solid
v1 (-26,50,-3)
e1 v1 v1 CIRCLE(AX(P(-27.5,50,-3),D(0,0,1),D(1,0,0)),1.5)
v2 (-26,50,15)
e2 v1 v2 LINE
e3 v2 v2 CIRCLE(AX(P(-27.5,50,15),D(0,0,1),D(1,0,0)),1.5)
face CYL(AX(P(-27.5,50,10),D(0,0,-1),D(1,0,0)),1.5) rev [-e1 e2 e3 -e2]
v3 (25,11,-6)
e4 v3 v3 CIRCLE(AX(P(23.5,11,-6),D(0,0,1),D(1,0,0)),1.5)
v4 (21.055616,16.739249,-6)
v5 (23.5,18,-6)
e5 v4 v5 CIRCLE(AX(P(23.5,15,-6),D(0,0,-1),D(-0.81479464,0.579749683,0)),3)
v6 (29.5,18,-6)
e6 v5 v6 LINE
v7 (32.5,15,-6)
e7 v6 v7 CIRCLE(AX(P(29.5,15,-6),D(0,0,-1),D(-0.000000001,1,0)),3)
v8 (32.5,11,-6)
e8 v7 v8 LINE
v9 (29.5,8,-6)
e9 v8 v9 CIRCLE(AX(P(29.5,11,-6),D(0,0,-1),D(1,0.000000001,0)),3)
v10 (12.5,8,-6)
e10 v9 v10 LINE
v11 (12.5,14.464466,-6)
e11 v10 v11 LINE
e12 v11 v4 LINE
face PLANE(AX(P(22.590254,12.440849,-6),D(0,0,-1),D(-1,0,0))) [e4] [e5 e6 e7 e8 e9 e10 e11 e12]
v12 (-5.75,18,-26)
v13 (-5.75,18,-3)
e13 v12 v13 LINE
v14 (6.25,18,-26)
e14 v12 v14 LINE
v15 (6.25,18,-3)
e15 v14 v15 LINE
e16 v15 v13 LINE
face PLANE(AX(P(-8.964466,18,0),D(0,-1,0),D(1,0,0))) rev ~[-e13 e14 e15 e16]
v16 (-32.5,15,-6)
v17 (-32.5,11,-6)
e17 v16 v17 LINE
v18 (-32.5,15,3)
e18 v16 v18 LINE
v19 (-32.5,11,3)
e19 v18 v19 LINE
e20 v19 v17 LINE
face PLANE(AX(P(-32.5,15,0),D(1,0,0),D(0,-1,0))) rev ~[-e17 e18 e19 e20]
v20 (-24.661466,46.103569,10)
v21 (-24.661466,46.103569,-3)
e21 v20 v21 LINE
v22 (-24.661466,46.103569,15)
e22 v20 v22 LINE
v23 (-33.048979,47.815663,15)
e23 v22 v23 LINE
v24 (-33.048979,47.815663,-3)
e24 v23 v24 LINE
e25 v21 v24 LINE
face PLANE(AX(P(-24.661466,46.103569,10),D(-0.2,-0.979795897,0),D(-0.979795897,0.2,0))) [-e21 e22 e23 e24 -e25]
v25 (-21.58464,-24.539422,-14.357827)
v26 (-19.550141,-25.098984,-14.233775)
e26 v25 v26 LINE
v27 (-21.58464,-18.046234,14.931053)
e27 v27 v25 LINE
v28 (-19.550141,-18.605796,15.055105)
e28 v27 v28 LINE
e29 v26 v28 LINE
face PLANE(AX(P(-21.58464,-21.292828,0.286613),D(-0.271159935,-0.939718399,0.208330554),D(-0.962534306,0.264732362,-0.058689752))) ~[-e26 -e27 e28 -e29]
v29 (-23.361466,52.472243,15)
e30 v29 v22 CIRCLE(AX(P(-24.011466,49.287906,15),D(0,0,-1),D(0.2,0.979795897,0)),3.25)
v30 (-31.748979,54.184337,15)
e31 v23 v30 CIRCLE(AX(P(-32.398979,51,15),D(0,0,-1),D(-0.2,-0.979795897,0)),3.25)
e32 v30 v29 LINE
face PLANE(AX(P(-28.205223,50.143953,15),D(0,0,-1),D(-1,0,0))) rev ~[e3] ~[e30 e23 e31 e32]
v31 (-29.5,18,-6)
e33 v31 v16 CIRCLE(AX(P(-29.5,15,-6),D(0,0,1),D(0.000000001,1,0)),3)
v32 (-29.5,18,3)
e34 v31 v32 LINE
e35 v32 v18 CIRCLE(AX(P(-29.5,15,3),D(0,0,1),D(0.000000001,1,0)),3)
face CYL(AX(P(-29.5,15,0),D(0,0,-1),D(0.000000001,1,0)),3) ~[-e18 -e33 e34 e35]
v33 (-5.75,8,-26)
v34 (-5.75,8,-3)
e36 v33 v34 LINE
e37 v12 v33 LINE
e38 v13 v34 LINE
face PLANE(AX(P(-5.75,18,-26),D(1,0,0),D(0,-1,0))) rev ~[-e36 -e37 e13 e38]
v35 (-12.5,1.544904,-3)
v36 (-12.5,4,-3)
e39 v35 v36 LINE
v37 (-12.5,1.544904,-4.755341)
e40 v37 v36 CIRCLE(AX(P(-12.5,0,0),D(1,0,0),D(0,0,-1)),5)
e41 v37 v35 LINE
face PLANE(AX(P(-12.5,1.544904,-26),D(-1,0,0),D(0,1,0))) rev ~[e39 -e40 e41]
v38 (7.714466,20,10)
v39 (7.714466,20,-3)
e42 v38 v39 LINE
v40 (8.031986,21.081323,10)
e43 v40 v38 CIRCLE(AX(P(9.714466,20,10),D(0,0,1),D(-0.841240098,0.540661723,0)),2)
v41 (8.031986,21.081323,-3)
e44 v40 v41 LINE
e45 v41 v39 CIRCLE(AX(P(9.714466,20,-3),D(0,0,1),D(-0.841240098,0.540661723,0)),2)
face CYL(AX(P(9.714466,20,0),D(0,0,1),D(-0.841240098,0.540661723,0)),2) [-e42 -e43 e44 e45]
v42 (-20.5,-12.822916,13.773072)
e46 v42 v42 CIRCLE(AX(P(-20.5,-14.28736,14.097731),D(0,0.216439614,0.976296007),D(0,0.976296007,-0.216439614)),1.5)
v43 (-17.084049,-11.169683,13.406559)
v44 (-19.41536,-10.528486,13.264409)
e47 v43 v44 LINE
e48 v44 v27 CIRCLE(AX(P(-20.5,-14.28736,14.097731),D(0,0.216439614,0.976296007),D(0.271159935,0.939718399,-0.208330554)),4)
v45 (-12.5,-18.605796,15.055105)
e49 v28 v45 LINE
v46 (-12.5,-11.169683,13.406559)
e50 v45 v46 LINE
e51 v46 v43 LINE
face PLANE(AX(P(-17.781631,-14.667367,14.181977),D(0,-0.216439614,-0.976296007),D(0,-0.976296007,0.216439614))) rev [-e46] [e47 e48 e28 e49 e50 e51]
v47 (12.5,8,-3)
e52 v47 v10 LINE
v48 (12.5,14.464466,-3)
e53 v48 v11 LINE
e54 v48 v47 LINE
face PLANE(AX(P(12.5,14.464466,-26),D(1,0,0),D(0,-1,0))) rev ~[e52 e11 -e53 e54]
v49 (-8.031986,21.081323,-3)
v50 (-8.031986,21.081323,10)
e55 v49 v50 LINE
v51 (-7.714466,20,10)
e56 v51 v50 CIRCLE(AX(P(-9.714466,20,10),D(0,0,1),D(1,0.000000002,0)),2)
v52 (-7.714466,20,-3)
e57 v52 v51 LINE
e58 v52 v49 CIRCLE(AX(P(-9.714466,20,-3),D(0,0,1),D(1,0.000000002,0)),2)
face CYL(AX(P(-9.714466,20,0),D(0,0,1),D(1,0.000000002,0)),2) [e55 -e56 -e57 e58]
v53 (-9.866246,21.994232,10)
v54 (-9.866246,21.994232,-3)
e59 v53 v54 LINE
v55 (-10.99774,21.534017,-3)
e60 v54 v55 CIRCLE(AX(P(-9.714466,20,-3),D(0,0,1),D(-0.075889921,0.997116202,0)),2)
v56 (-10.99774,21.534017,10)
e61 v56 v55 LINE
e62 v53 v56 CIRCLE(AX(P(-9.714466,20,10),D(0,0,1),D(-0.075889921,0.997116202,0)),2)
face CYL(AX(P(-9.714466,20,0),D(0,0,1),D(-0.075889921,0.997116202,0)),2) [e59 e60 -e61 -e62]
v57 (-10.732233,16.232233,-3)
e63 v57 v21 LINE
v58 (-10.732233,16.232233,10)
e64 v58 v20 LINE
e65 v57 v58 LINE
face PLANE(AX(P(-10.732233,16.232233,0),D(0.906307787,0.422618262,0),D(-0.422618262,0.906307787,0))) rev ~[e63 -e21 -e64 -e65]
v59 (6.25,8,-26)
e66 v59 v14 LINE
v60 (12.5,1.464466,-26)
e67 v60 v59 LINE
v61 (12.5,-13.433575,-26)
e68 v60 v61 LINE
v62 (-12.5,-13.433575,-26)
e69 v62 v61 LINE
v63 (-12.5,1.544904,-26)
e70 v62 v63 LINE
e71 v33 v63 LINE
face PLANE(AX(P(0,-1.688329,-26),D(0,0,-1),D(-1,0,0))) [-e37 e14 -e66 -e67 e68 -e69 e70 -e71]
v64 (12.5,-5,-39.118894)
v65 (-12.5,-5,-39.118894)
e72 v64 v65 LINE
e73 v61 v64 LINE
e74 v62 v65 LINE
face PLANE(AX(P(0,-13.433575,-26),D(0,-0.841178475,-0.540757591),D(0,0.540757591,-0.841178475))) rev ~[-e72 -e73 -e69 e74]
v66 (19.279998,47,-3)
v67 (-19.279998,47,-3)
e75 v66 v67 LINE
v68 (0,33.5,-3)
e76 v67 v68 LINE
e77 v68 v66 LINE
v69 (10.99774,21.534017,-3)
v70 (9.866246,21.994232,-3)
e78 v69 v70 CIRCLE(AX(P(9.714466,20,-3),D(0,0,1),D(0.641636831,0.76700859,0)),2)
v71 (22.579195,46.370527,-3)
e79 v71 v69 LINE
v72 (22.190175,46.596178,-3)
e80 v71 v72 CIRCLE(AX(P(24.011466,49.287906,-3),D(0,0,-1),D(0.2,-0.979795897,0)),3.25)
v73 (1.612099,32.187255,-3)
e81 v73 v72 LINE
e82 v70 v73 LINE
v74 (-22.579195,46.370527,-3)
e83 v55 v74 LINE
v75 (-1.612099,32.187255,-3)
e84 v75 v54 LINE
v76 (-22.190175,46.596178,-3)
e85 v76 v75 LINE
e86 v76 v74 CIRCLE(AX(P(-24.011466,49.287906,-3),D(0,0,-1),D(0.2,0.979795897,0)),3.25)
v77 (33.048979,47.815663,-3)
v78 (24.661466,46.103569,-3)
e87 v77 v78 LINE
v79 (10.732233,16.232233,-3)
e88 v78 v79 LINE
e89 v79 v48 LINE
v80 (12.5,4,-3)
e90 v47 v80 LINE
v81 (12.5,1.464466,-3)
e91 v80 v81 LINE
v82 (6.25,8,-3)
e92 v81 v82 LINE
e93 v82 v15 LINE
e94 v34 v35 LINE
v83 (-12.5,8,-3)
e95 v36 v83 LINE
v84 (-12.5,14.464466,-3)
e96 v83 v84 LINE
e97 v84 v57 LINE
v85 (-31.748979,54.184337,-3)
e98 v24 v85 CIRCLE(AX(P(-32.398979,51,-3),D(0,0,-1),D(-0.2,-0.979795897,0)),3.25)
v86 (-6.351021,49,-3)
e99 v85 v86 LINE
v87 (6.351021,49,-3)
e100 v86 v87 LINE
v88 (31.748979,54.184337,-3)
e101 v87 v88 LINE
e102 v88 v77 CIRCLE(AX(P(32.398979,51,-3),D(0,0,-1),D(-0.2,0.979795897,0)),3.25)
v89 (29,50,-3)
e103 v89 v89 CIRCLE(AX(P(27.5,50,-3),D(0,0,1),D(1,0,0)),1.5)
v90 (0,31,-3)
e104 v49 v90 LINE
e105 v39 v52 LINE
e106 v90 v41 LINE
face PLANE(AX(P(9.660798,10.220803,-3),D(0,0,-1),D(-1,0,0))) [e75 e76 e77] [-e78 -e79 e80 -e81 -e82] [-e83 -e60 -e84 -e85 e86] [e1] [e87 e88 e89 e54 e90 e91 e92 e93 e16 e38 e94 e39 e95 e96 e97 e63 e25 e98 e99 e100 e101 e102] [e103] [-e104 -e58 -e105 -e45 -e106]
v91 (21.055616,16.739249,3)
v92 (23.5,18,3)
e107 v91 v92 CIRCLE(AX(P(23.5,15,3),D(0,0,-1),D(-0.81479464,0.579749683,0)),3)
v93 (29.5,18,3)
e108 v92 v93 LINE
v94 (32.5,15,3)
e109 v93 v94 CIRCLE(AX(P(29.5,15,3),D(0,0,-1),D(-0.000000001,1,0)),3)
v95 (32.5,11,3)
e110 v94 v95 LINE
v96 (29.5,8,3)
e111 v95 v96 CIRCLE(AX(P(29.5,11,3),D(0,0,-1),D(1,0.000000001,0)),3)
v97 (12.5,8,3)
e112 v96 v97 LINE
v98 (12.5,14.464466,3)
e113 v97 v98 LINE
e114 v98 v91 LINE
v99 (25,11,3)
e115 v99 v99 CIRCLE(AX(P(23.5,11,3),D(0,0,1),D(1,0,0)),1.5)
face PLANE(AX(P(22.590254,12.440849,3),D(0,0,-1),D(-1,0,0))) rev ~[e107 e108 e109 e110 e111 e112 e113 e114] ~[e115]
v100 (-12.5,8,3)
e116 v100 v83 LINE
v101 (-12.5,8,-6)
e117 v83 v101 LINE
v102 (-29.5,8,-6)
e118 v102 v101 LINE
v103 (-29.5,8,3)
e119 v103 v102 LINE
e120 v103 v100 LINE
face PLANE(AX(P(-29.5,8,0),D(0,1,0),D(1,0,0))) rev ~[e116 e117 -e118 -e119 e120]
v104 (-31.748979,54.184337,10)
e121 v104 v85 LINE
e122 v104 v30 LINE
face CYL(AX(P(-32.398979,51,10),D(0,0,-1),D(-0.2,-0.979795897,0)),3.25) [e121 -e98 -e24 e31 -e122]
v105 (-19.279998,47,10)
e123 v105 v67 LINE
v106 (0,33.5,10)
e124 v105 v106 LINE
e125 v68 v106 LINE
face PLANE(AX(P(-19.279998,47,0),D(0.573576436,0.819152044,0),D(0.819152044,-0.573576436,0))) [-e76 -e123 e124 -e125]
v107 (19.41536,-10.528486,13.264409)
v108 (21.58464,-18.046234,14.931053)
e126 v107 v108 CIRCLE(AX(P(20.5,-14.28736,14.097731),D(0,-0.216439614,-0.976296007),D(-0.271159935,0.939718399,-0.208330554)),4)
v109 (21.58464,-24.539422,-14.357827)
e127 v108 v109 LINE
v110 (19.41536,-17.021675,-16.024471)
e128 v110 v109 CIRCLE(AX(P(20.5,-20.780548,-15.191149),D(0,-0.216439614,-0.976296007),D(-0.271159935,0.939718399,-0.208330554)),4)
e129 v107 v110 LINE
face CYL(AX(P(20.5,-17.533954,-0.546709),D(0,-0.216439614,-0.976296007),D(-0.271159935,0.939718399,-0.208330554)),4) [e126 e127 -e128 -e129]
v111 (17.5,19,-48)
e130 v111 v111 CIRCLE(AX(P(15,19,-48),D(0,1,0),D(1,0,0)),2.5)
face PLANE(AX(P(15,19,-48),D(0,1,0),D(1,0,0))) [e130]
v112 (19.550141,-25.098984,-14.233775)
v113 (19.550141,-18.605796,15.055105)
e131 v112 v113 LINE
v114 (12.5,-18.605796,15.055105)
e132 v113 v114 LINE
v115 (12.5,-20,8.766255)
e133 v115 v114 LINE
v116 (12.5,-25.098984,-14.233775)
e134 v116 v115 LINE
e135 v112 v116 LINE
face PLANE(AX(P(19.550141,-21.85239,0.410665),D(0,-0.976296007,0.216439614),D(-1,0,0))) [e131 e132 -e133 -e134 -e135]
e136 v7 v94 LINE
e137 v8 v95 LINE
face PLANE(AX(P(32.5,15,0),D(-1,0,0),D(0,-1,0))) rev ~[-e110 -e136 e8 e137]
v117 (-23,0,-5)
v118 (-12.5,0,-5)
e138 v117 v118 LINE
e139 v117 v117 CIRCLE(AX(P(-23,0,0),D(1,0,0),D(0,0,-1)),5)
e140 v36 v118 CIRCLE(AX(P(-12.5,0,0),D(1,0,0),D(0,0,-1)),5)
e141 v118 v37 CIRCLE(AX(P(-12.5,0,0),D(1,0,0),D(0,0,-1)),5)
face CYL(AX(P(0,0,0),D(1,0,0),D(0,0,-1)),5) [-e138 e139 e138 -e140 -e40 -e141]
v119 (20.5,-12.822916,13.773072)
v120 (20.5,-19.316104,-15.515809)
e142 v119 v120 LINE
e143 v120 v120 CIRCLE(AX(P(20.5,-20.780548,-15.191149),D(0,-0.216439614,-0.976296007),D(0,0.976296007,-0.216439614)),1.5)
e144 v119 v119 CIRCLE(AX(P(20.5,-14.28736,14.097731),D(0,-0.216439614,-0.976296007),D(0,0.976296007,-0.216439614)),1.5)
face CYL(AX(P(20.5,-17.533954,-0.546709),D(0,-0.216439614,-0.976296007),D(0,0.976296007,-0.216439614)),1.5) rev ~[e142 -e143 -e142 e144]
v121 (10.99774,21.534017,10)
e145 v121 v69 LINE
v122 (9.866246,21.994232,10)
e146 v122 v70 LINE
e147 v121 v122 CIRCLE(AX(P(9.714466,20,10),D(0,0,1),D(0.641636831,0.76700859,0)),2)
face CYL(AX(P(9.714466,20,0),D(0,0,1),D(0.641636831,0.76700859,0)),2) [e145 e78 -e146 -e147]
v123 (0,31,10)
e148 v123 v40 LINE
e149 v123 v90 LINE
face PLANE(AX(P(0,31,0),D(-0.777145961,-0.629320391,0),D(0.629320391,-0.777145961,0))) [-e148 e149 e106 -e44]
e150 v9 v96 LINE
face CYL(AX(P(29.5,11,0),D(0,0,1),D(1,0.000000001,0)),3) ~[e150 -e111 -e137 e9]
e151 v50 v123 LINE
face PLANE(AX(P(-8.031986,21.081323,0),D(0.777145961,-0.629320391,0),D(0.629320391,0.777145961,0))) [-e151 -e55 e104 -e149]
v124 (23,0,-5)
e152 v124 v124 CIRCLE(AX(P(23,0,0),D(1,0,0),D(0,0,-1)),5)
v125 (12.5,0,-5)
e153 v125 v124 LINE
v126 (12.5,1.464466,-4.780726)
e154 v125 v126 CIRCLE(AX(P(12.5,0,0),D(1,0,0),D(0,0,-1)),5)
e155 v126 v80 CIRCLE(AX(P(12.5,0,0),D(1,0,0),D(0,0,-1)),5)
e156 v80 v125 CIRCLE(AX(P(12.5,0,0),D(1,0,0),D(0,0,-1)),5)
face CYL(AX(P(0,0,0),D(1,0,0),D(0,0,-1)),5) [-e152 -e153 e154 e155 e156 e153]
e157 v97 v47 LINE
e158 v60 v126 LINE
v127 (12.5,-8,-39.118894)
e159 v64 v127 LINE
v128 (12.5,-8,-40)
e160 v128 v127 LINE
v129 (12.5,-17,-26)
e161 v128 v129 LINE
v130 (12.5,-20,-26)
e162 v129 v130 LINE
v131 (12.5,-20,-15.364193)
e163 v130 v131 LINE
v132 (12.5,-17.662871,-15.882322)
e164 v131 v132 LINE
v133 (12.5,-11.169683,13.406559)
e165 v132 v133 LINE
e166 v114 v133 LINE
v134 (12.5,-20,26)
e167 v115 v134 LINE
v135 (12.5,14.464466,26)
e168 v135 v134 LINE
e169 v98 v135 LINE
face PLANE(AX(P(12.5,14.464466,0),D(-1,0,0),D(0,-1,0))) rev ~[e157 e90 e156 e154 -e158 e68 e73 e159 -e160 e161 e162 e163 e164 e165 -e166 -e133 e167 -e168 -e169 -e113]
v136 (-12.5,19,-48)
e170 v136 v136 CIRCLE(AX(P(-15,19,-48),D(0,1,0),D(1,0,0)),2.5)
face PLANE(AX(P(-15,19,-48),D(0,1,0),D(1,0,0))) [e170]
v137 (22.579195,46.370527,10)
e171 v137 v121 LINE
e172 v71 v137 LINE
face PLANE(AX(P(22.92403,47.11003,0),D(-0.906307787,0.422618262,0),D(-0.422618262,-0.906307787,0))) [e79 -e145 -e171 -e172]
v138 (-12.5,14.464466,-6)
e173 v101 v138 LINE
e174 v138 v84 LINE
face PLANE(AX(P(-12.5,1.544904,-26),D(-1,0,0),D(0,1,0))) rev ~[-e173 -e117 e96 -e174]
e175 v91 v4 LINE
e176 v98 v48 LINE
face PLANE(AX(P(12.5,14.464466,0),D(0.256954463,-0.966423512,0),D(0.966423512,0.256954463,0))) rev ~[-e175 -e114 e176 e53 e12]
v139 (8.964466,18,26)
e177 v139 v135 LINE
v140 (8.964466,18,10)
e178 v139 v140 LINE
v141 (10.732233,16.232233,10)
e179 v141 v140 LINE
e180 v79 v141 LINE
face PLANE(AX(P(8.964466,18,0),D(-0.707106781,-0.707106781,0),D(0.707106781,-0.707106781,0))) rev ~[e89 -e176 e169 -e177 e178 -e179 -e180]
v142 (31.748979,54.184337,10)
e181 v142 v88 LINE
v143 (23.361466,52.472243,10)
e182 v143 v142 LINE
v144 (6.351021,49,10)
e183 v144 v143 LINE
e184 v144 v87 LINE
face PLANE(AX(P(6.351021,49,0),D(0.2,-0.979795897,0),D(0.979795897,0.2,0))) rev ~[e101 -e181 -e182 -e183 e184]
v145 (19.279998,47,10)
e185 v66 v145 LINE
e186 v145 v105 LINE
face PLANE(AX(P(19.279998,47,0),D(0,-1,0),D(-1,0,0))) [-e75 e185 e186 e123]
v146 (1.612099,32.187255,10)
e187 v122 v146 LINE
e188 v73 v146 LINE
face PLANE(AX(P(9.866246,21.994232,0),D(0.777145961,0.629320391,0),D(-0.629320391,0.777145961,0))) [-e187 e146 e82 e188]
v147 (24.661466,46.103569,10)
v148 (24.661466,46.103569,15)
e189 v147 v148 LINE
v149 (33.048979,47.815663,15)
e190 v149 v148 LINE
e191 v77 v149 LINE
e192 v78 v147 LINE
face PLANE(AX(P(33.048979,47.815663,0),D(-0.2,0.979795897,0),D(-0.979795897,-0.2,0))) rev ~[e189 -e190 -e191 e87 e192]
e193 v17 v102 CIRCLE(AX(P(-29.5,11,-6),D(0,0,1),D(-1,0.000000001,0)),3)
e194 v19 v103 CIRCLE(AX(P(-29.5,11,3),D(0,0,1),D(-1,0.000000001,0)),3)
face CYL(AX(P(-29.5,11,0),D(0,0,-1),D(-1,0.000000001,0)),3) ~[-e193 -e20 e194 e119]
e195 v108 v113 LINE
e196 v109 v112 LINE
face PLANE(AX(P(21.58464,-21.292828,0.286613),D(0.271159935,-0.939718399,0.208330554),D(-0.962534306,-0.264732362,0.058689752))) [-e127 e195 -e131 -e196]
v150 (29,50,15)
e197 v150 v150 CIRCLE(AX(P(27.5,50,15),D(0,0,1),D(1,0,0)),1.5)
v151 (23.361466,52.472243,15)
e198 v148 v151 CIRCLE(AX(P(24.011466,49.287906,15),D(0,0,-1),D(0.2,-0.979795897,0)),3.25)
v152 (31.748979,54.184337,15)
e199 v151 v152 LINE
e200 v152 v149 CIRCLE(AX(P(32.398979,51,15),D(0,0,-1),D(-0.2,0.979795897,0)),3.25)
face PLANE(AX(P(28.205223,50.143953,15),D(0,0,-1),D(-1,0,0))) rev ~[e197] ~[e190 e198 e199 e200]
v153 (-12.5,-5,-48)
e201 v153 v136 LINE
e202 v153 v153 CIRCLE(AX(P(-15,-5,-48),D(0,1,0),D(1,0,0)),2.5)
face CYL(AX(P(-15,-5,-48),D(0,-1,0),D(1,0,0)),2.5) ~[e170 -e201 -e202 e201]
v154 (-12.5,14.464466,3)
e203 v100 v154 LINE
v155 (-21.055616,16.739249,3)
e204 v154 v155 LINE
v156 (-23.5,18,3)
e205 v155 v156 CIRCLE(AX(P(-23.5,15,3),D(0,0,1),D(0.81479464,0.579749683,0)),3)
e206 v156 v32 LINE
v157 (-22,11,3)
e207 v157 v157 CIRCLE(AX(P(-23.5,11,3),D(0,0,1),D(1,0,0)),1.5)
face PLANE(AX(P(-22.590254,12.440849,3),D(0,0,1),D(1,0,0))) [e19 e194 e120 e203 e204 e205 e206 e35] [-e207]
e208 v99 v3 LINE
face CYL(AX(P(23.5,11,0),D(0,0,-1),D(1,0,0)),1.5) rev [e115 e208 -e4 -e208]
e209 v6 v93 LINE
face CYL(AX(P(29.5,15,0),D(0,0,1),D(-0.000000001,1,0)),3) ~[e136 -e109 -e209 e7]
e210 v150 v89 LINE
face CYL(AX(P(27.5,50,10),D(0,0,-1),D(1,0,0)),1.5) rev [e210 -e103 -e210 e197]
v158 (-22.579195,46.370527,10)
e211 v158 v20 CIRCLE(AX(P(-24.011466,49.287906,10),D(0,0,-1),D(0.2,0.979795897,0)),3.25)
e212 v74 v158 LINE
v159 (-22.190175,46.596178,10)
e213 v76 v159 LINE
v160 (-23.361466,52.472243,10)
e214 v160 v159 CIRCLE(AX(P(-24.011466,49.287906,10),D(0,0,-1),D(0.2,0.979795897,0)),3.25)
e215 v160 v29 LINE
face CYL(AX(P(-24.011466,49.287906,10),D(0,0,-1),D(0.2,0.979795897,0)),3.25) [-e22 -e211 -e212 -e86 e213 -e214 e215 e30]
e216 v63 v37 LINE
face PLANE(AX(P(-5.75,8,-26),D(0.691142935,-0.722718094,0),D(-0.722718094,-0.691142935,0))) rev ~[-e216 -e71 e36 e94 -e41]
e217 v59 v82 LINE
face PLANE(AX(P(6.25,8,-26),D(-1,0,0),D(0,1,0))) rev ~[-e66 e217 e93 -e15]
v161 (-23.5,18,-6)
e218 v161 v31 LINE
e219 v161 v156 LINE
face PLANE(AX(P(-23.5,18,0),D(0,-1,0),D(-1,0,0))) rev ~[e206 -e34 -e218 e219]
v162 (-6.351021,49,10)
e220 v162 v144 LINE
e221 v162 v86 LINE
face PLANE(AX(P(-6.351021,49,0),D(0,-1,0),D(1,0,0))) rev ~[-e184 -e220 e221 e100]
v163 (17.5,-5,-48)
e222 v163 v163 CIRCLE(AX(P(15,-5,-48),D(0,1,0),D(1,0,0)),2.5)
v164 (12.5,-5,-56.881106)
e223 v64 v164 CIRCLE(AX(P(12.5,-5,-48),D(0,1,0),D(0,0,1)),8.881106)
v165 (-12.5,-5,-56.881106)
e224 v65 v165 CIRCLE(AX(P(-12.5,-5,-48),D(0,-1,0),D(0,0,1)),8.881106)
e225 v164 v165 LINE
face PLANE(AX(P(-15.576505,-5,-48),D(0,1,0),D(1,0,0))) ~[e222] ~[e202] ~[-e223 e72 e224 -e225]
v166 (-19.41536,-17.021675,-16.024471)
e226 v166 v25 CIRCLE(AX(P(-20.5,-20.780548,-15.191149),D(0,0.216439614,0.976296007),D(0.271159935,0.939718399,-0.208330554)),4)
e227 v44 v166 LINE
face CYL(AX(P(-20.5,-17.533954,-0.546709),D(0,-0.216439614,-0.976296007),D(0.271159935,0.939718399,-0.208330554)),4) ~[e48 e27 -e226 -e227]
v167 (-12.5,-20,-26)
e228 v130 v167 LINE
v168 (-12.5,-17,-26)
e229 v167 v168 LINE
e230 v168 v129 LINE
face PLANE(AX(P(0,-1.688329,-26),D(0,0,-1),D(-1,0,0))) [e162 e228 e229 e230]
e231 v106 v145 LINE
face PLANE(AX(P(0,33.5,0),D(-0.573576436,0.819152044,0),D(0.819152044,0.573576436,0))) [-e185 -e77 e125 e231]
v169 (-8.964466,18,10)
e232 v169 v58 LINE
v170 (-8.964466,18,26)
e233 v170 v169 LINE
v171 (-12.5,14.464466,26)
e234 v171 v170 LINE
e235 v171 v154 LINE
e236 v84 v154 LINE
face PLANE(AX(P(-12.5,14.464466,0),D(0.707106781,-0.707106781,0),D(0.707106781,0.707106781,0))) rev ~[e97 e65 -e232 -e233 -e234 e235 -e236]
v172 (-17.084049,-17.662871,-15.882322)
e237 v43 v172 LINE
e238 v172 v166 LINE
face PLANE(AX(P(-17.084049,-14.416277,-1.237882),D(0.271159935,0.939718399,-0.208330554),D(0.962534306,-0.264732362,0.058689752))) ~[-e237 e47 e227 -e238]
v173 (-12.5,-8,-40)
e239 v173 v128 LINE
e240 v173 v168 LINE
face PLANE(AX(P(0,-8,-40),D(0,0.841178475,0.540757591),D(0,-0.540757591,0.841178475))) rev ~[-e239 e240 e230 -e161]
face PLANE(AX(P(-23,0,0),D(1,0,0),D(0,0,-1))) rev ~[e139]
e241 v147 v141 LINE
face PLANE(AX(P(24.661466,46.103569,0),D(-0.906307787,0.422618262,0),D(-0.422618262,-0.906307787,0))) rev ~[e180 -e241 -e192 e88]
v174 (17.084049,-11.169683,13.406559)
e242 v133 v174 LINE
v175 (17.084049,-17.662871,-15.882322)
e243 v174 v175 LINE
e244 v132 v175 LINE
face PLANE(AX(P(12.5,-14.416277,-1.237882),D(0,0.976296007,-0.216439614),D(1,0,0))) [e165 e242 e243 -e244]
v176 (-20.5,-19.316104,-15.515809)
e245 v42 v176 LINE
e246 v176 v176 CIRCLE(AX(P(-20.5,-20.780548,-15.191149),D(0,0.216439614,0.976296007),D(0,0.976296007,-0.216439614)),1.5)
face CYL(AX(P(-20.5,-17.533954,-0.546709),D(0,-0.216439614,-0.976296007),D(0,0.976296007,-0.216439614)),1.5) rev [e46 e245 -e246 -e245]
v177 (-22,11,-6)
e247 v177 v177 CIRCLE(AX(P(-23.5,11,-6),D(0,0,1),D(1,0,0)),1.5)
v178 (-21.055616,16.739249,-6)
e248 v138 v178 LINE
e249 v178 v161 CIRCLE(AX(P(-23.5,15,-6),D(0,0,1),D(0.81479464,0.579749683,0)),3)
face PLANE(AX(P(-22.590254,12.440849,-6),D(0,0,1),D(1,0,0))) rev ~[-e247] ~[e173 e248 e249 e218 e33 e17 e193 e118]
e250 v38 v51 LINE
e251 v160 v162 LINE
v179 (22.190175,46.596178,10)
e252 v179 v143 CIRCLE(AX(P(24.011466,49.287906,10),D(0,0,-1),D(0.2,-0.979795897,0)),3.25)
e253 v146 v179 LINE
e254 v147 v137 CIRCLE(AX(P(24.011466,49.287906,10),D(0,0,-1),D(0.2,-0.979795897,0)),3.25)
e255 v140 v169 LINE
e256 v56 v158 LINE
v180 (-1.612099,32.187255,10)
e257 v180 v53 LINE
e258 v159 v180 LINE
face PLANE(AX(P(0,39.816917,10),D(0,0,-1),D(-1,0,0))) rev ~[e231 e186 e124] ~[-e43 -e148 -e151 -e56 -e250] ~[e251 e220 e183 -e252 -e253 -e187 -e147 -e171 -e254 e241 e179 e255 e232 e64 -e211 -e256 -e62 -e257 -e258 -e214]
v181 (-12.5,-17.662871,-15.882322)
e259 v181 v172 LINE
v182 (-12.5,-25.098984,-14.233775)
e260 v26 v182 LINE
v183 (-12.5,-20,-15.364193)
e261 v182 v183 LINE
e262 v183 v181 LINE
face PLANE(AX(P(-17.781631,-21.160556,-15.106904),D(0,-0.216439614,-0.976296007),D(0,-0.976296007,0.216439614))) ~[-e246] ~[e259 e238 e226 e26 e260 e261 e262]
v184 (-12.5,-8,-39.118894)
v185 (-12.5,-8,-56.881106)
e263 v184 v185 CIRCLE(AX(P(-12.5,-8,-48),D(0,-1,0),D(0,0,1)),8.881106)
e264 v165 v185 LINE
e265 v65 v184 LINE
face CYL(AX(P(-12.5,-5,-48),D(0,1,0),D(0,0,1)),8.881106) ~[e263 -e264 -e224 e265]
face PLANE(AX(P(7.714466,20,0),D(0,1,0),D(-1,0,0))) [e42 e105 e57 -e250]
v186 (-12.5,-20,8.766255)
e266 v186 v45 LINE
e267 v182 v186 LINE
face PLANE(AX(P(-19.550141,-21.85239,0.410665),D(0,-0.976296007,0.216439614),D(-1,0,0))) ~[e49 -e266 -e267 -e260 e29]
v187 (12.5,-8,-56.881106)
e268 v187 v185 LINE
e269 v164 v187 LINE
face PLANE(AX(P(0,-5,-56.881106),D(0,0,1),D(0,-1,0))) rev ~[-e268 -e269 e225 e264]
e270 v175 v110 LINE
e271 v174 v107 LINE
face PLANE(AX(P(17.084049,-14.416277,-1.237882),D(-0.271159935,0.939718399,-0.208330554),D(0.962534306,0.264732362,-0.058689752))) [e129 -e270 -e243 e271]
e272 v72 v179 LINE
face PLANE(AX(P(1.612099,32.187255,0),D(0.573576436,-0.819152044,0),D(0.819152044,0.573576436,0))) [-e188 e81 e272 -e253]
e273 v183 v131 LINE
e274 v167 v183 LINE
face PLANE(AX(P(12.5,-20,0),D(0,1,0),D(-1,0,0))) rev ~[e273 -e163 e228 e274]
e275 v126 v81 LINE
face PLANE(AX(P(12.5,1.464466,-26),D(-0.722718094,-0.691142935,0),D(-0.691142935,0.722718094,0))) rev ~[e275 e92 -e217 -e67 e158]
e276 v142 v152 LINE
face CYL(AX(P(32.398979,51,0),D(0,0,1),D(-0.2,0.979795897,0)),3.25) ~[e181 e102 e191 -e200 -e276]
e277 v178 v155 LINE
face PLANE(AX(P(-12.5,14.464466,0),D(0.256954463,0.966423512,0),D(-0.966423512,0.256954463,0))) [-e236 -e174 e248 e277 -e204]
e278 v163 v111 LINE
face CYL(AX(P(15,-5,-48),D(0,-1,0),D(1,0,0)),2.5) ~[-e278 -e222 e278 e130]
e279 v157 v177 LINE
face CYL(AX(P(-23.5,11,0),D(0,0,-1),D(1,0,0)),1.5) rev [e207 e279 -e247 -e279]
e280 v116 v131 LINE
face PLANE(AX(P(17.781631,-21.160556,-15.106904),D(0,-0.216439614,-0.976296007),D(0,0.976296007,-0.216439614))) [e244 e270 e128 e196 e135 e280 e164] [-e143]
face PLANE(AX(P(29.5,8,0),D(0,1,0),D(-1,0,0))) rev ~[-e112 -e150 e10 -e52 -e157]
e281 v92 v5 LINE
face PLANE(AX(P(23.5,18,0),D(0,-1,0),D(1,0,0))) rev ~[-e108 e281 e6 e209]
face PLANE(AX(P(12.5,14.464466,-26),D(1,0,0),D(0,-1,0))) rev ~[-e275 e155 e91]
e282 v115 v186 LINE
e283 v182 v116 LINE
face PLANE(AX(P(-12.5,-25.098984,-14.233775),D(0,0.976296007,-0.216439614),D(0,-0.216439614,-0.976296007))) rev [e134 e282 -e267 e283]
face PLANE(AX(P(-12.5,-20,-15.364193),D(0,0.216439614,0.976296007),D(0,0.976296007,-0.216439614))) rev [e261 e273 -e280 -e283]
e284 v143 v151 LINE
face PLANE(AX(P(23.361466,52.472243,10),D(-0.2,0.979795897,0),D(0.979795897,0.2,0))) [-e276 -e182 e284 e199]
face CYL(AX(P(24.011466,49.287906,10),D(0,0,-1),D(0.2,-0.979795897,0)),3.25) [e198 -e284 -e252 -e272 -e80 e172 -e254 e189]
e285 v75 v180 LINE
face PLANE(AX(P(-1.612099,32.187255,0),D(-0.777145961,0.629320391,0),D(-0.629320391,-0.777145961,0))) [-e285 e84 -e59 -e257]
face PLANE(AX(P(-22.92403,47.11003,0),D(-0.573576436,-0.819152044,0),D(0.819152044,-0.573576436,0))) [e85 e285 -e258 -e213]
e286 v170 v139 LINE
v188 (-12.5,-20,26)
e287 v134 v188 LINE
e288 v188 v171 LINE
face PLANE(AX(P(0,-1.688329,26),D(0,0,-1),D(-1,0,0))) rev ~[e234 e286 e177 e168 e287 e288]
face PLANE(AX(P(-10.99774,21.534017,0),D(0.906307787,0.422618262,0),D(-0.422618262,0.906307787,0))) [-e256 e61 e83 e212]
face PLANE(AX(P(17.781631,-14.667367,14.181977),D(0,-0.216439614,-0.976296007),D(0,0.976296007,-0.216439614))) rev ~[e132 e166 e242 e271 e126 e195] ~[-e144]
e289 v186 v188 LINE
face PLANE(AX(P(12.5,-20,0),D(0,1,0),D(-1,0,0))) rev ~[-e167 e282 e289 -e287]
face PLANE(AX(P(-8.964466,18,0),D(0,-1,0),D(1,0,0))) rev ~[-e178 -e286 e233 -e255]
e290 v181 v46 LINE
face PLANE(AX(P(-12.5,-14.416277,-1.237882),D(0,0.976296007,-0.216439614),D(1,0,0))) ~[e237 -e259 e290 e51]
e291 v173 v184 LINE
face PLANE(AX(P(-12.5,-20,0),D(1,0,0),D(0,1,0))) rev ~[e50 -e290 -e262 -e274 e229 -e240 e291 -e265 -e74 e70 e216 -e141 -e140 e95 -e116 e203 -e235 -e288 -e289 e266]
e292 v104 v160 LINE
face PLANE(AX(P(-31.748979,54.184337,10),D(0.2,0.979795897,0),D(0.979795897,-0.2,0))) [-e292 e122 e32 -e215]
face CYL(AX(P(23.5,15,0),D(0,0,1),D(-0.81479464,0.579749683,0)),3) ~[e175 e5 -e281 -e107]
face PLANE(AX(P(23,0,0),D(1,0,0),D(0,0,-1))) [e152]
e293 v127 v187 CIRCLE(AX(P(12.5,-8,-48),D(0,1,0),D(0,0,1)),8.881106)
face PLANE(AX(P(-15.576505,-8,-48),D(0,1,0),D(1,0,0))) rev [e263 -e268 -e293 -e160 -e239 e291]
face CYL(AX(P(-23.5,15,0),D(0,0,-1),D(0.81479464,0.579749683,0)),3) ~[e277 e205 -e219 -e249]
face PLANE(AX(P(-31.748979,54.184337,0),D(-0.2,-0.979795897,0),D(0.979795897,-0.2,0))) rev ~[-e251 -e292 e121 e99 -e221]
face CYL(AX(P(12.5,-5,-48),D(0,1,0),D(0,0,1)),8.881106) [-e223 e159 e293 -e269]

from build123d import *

# Parameters (mm, degrees)
SKETCH1_R                    = 5
DRIVELINE_AXIS_DEPTH         = 23
DUMMY_BOSS_DEPTH             = 26
SKETCH8_R                    = 1.5
UPRIGHTS_DEPTH               = 10
UPRIGHTS_DEPTH_BACK          = 3
SKETCH9_R                    = 1.5
SHOCK_MOUNT_DEPTH            = 5
SHOCK_MOUNT_DEPTH_BACK       = 13
SKETCH10_R                   = 1.5
TURNBUCKLE_MOUNTS_DEPTH      = 3
TURNBUCKLE_MOUNTS_DEPTH_BACK = 6
TURNBUCKLE_ROOM_DEPTH        = 1
TURNBUCKLE_ROOM_DEPTH_BACK   = 23
BOSS_EXTRUDE2_DEPTH          = 12.5
BOSS_EXTRUDE3_DEPTH          = 3
SKETCH43_R                   = 2.5
BOSS_EXTRUDE4_DEPTH          = 24
BOSS_EXTRUDE5_DEPTH          = 15
BOSS_EXTRUDE6_DEPTH          = 12.5
SKETCH49_R                   = 1.5
CUT_EXTRUDE1_DEPTH           = 15


with BuildPart() as part:
    # Sketch1 → Driveline Axis (new body, symmetric)
    with BuildSketch(Plane(origin=(0, 0, 0), x_dir=(0, 0, -1), z_dir=(1, 0, 0))):
        Circle(SKETCH1_R)
    extrude(amount=DRIVELINE_AXIS_DEPTH, both=True)

    # Sketch2 → Dummy Boss (add, symmetric)
    with BuildSketch(Plane.XY):
        Polygon((-12.5, -20), (-12.5, 14.464466094), (-8.964466094, 18), (8.964466094, 18), (12.5, 14.464466094), (12.5, -20), align=None)
    extrude(amount=DUMMY_BOSS_DEPTH, both=True)

    # Sketch8 → Uprights (add, two sides)
    with BuildSketch(Plane.XY) as uprights_sk:
        with BuildLine():
            Line((-10.732233047, 16.232233047), (-24.661465898, 46.103569293))
            Line((-24.661465898, 46.103569293), (-33.048979486, 47.815663334))
            ThreePointArc((-33.048979486, 47.815663334), (-35.583316151, 51.65), (-31.748979486, 54.184336666))
            Line((-31.748979486, 54.184336666), (-6.351020514, 49))
            Line((-6.351020514, 49), (6.351020514, 49))
            Line((6.351020514, 49), (31.748979486, 54.184336666))
            ThreePointArc((31.748979486, 54.184336666), (35.583316151, 51.65), (33.048979486, 47.815663334))
            Line((33.048979486, 47.815663334), (24.661465898, 46.103569293))
            Line((24.661465898, 46.103569293), (10.732233047, 16.232233047))
            Line((10.732233047, 16.232233047), (8.964466094, 18))
            Line((8.964466094, 18), (-8.964466094, 18))
            Line((-8.964466094, 18), (-10.732233047, 16.232233047))
        make_face()
        with Locations((-27.5, 50)):
            Circle(SKETCH8_R, mode=Mode.SUBTRACT)
        with Locations((27.5, 50)):
            Circle(SKETCH8_R, mode=Mode.SUBTRACT)
        with BuildLine():
            Line((9.866245938, 21.994232403), (1.612099151, 32.1872548))
            Line((1.612099151, 32.1872548), (22.924030195, 47.110029571))
            Line((22.924030195, 47.110029571), (10.997739753, 21.534017182))
            ThreePointArc((10.997739753, 21.534017182), (10.467987263, 21.852621345), (9.866245938, 21.994232403))
        make_face(mode=Mode.SUBTRACT)
        with BuildLine():
            Line((7.714466094, 20), (-7.714466094, 20))
            ThreePointArc((-7.714466094, 20), (-7.795487149, 20.563488959), (-8.031985901, 21.081323449))
            Line((-8.031985901, 21.081323449), (0, 31))
            Line((0, 31), (8.031985901, 21.081323449))
            ThreePointArc((8.031985901, 21.081323449), (7.795487149, 20.563488959), (7.714466094, 20))
        make_face(mode=Mode.SUBTRACT)
        with BuildLine():
            Line((-10.997739753, 21.534017182), (-22.924030195, 47.110029571))
            Line((-22.924030195, 47.110029571), (-1.612099151, 32.1872548))
            Line((-1.612099151, 32.1872548), (-9.866245938, 21.994232403))
            ThreePointArc((-9.866245938, 21.994232403), (-10.467987263, 21.852621345), (-10.997739753, 21.534017182))
        make_face(mode=Mode.SUBTRACT)
        Polygon((-19.279998091, 47), (0, 33.5), (19.279998091, 47), align=None, mode=Mode.SUBTRACT)
    extrude(amount=UPRIGHTS_DEPTH)
    extrude(uprights_sk.sketch, amount=-UPRIGHTS_DEPTH_BACK)

    # Sketch9 → Shock Mount (add, two sides)
    with BuildSketch(Plane.XY.offset(10)) as shock_mount_sk:
        with BuildLine():
            Line((-24.661465898, 46.103569293), (-33.048979486, 47.815663334))
            ThreePointArc((-33.048979486, 47.815663334), (-35.583316151, 51.65), (-31.748979486, 54.184336666))
            Line((-31.748979486, 54.184336666), (-23.361465898, 52.472242624))
            ThreePointArc((-23.361465898, 52.472242624), (-20.827129232, 48.637905958), (-24.661465898, 46.103569293))
        make_face()
        with Locations((-27.5, 50)):
            Circle(SKETCH9_R, mode=Mode.SUBTRACT)
        with BuildLine():
            Line((23.361465898, 52.472242624), (31.748979486, 54.184336666))
            ThreePointArc((31.748979486, 54.184336666), (35.583316151, 51.65), (33.048979486, 47.815663334))
            Line((33.048979486, 47.815663334), (24.661465898, 46.103569293))
            ThreePointArc((24.661465898, 46.103569293), (20.827129232, 48.637905958), (23.361465898, 52.472242624))
        make_face()
        with Locations((27.5, 50)):
            Circle(SKETCH9_R, mode=Mode.SUBTRACT)
    extrude(amount=SHOCK_MOUNT_DEPTH)
    extrude(shock_mount_sk.sketch, amount=-SHOCK_MOUNT_DEPTH_BACK)

    # Sketch10 → Turnbuckle Mounts (add, two sides)
    with BuildSketch(Plane.XY) as turnbuckle_mounts_sk:
        with BuildLine():
            Line((29.5, 8), (12.5, 8))
            Line((12.5, 8), (12.5, 14.464466094))
            Line((12.5, 14.464466094), (21.055616084, 16.739249053))
            ThreePointArc((21.055616084, 16.739249053), (22.124817677, 17.666247097), (23.5, 18))
            Line((23.5, 18), (29.5, 18))
            ThreePointArc((29.5, 18), (31.621320344, 17.121320344), (32.5, 15))
            Line((32.5, 15), (32.5, 11))
            ThreePointArc((32.5, 11), (31.621320344, 8.878679656), (29.5, 8))
        make_face()
        with Locations((23.5, 11)):
            Circle(SKETCH10_R, mode=Mode.SUBTRACT)
        with BuildLine():
            Line((-12.5, 14.464466094), (-21.055616084, 16.739249053))
            ThreePointArc((-21.055616084, 16.739249053), (-22.124817677, 17.666247097), (-23.5, 18))
            Line((-23.5, 18), (-29.5, 18))
            ThreePointArc((-29.5, 18), (-31.621320344, 17.121320344), (-32.5, 15))
            Line((-32.5, 15), (-32.5, 11))
            ThreePointArc((-32.5, 11), (-31.621320344, 8.878679656), (-29.5, 8))
            Line((-29.5, 8), (-12.5, 8))
            Line((-12.5, 8), (-12.5, 14.464466094))
        make_face()
        with Locations((-23.5, 11)):
            Circle(SKETCH10_R, mode=Mode.SUBTRACT)
    extrude(amount=TURNBUCKLE_MOUNTS_DEPTH)
    extrude(turnbuckle_mounts_sk.sketch, amount=-TURNBUCKLE_MOUNTS_DEPTH_BACK)

    # Sketch11 → Turnbuckle Room (cut, two sides)
    with BuildSketch(Plane(origin=(0, 0, -26), x_dir=(-1, 0, 0), z_dir=(0, 0, -1))) as turnbuckle_room_sk:
        Polygon((8.964466094, 18), (5.75, 18), (5.75, 8), (12.5, 1.544903812), (12.5, 14.464466094), align=None)
        Polygon((-12.5, 14.464466094), (-12.5, 1.464466094), (-6.25, 8), (-6.25, 18), (-8.964466094, 18), align=None)
    extrude(amount=TURNBUCKLE_ROOM_DEPTH, mode=Mode.SUBTRACT)
    extrude(turnbuckle_room_sk.sketch, amount=-TURNBUCKLE_ROOM_DEPTH_BACK, mode=Mode.SUBTRACT)

    # Sketch40 → Boss-Extrude2 (add, symmetric)
    with BuildSketch(Plane(origin=(0, 0, 0), x_dir=(0, 0, -1), z_dir=(1, 0, 0))):
        Polygon((26, -13.433574933), (39.118894341, -5), (56.881105659, -5), (56.881105659, -8), (40, -8), (26, -17), align=None)
    extrude(amount=BOSS_EXTRUDE2_DEPTH, both=True)

    # Sketch41 → Boss-Extrude3 (add)
    with BuildSketch(Plane(origin=(0, -5, 0), x_dir=(1, 0, 0), z_dir=(0, 1, 0))):
        with BuildLine():
            Line((12.5, 56.881105659), (12.5, 39.118894341))
            ThreePointArc((12.5, 39.118894341), (21.381105659, 48), (12.5, 56.881105659))
        make_face()
    boss_extrude3 = extrude(amount=-BOSS_EXTRUDE3_DEPTH)

    # Mirror4: Boss-Extrude3 across plane
    add(boss_extrude3.mirror(Plane(origin=(0, 0, 0), x_dir=(0, 0, 1), z_dir=(1, 0, 0))))

    # Sketch43 → Boss-Extrude4 (add)
    with BuildSketch(Plane(origin=(0, -5, 0), x_dir=(1, 0, 0), z_dir=(0, 1, 0))):
        with Locations((-15, 48)):
            Circle(SKETCH43_R)
        with Locations((15, 48)):
            Circle(SKETCH43_R)
    extrude(amount=BOSS_EXTRUDE4_DEPTH)

    # Sketch47 → Boss-Extrude5 (add, symmetric)
    with BuildSketch(Plane(origin=(0, -0.93692213, -4.226182617), x_dir=(0, 0.976296007, -0.216439614), z_dir=(0, -0.216439614, -0.976296007))):
        with BuildLine():
            Line((-13.806627078, 12.5), (-13.806627078, 17.084049145))
            Line((-13.806627078, 17.084049145), (-13.149862777, 19.41536026))
            ThreePointArc((-13.149862777, 19.41536026), (-15.91536026, 24.350137223), (-20.850137223, 21.58463974))
            Line((-20.850137223, 21.58463974), (-21.423285097, 19.550141201))
            Line((-21.423285097, 19.550141201), (-21.423285097, 12.5))
            Line((-21.423285097, 12.5), (-13.806627078, 12.5))
        make_face()
    boss_extrude5 = extrude(amount=BOSS_EXTRUDE5_DEPTH, both=True)

    # Sketch48 → Boss-Extrude6 (add)
    with BuildSketch(Plane.ZY.offset(-12.5)):
        Polygon((-14.233775168, -25.098984039), (8.766255495, -20), (-15.364192715, -20), align=None)
    boss_extrude6 = extrude(amount=BOSS_EXTRUDE6_DEPTH)

    # Sketch49 → Cut-Extrude1 (cut, symmetric)
    with BuildSketch(Plane(origin=(0, -0.93692213, -4.226182617), x_dir=(0, 0.976296007, -0.216439614), z_dir=(0, -0.216439614, -0.976296007))):
        with Locations((-17, 20.5)):
            Circle(SKETCH49_R)
    cut_extrude1 = extrude(amount=CUT_EXTRUDE1_DEPTH, both=True, mode=Mode.SUBTRACT)

    # Mirror5: Boss-Extrude5, Boss-Extrude6, Cut-Extrude1 across plane
    add(boss_extrude5.mirror(Plane(origin=(0, 0, 0), x_dir=(0, 0, 1), z_dir=(1, 0, 0))))
    add(boss_extrude6.mirror(Plane(origin=(0, 0, 0), x_dir=(0, 0, 1), z_dir=(1, 0, 0))))
    add(cut_extrude1.mirror(Plane(origin=(0, 0, 0), x_dir=(0, 0, 1), z_dir=(1, 0, 0))), mode=Mode.SUBTRACT)


solid = part.part
